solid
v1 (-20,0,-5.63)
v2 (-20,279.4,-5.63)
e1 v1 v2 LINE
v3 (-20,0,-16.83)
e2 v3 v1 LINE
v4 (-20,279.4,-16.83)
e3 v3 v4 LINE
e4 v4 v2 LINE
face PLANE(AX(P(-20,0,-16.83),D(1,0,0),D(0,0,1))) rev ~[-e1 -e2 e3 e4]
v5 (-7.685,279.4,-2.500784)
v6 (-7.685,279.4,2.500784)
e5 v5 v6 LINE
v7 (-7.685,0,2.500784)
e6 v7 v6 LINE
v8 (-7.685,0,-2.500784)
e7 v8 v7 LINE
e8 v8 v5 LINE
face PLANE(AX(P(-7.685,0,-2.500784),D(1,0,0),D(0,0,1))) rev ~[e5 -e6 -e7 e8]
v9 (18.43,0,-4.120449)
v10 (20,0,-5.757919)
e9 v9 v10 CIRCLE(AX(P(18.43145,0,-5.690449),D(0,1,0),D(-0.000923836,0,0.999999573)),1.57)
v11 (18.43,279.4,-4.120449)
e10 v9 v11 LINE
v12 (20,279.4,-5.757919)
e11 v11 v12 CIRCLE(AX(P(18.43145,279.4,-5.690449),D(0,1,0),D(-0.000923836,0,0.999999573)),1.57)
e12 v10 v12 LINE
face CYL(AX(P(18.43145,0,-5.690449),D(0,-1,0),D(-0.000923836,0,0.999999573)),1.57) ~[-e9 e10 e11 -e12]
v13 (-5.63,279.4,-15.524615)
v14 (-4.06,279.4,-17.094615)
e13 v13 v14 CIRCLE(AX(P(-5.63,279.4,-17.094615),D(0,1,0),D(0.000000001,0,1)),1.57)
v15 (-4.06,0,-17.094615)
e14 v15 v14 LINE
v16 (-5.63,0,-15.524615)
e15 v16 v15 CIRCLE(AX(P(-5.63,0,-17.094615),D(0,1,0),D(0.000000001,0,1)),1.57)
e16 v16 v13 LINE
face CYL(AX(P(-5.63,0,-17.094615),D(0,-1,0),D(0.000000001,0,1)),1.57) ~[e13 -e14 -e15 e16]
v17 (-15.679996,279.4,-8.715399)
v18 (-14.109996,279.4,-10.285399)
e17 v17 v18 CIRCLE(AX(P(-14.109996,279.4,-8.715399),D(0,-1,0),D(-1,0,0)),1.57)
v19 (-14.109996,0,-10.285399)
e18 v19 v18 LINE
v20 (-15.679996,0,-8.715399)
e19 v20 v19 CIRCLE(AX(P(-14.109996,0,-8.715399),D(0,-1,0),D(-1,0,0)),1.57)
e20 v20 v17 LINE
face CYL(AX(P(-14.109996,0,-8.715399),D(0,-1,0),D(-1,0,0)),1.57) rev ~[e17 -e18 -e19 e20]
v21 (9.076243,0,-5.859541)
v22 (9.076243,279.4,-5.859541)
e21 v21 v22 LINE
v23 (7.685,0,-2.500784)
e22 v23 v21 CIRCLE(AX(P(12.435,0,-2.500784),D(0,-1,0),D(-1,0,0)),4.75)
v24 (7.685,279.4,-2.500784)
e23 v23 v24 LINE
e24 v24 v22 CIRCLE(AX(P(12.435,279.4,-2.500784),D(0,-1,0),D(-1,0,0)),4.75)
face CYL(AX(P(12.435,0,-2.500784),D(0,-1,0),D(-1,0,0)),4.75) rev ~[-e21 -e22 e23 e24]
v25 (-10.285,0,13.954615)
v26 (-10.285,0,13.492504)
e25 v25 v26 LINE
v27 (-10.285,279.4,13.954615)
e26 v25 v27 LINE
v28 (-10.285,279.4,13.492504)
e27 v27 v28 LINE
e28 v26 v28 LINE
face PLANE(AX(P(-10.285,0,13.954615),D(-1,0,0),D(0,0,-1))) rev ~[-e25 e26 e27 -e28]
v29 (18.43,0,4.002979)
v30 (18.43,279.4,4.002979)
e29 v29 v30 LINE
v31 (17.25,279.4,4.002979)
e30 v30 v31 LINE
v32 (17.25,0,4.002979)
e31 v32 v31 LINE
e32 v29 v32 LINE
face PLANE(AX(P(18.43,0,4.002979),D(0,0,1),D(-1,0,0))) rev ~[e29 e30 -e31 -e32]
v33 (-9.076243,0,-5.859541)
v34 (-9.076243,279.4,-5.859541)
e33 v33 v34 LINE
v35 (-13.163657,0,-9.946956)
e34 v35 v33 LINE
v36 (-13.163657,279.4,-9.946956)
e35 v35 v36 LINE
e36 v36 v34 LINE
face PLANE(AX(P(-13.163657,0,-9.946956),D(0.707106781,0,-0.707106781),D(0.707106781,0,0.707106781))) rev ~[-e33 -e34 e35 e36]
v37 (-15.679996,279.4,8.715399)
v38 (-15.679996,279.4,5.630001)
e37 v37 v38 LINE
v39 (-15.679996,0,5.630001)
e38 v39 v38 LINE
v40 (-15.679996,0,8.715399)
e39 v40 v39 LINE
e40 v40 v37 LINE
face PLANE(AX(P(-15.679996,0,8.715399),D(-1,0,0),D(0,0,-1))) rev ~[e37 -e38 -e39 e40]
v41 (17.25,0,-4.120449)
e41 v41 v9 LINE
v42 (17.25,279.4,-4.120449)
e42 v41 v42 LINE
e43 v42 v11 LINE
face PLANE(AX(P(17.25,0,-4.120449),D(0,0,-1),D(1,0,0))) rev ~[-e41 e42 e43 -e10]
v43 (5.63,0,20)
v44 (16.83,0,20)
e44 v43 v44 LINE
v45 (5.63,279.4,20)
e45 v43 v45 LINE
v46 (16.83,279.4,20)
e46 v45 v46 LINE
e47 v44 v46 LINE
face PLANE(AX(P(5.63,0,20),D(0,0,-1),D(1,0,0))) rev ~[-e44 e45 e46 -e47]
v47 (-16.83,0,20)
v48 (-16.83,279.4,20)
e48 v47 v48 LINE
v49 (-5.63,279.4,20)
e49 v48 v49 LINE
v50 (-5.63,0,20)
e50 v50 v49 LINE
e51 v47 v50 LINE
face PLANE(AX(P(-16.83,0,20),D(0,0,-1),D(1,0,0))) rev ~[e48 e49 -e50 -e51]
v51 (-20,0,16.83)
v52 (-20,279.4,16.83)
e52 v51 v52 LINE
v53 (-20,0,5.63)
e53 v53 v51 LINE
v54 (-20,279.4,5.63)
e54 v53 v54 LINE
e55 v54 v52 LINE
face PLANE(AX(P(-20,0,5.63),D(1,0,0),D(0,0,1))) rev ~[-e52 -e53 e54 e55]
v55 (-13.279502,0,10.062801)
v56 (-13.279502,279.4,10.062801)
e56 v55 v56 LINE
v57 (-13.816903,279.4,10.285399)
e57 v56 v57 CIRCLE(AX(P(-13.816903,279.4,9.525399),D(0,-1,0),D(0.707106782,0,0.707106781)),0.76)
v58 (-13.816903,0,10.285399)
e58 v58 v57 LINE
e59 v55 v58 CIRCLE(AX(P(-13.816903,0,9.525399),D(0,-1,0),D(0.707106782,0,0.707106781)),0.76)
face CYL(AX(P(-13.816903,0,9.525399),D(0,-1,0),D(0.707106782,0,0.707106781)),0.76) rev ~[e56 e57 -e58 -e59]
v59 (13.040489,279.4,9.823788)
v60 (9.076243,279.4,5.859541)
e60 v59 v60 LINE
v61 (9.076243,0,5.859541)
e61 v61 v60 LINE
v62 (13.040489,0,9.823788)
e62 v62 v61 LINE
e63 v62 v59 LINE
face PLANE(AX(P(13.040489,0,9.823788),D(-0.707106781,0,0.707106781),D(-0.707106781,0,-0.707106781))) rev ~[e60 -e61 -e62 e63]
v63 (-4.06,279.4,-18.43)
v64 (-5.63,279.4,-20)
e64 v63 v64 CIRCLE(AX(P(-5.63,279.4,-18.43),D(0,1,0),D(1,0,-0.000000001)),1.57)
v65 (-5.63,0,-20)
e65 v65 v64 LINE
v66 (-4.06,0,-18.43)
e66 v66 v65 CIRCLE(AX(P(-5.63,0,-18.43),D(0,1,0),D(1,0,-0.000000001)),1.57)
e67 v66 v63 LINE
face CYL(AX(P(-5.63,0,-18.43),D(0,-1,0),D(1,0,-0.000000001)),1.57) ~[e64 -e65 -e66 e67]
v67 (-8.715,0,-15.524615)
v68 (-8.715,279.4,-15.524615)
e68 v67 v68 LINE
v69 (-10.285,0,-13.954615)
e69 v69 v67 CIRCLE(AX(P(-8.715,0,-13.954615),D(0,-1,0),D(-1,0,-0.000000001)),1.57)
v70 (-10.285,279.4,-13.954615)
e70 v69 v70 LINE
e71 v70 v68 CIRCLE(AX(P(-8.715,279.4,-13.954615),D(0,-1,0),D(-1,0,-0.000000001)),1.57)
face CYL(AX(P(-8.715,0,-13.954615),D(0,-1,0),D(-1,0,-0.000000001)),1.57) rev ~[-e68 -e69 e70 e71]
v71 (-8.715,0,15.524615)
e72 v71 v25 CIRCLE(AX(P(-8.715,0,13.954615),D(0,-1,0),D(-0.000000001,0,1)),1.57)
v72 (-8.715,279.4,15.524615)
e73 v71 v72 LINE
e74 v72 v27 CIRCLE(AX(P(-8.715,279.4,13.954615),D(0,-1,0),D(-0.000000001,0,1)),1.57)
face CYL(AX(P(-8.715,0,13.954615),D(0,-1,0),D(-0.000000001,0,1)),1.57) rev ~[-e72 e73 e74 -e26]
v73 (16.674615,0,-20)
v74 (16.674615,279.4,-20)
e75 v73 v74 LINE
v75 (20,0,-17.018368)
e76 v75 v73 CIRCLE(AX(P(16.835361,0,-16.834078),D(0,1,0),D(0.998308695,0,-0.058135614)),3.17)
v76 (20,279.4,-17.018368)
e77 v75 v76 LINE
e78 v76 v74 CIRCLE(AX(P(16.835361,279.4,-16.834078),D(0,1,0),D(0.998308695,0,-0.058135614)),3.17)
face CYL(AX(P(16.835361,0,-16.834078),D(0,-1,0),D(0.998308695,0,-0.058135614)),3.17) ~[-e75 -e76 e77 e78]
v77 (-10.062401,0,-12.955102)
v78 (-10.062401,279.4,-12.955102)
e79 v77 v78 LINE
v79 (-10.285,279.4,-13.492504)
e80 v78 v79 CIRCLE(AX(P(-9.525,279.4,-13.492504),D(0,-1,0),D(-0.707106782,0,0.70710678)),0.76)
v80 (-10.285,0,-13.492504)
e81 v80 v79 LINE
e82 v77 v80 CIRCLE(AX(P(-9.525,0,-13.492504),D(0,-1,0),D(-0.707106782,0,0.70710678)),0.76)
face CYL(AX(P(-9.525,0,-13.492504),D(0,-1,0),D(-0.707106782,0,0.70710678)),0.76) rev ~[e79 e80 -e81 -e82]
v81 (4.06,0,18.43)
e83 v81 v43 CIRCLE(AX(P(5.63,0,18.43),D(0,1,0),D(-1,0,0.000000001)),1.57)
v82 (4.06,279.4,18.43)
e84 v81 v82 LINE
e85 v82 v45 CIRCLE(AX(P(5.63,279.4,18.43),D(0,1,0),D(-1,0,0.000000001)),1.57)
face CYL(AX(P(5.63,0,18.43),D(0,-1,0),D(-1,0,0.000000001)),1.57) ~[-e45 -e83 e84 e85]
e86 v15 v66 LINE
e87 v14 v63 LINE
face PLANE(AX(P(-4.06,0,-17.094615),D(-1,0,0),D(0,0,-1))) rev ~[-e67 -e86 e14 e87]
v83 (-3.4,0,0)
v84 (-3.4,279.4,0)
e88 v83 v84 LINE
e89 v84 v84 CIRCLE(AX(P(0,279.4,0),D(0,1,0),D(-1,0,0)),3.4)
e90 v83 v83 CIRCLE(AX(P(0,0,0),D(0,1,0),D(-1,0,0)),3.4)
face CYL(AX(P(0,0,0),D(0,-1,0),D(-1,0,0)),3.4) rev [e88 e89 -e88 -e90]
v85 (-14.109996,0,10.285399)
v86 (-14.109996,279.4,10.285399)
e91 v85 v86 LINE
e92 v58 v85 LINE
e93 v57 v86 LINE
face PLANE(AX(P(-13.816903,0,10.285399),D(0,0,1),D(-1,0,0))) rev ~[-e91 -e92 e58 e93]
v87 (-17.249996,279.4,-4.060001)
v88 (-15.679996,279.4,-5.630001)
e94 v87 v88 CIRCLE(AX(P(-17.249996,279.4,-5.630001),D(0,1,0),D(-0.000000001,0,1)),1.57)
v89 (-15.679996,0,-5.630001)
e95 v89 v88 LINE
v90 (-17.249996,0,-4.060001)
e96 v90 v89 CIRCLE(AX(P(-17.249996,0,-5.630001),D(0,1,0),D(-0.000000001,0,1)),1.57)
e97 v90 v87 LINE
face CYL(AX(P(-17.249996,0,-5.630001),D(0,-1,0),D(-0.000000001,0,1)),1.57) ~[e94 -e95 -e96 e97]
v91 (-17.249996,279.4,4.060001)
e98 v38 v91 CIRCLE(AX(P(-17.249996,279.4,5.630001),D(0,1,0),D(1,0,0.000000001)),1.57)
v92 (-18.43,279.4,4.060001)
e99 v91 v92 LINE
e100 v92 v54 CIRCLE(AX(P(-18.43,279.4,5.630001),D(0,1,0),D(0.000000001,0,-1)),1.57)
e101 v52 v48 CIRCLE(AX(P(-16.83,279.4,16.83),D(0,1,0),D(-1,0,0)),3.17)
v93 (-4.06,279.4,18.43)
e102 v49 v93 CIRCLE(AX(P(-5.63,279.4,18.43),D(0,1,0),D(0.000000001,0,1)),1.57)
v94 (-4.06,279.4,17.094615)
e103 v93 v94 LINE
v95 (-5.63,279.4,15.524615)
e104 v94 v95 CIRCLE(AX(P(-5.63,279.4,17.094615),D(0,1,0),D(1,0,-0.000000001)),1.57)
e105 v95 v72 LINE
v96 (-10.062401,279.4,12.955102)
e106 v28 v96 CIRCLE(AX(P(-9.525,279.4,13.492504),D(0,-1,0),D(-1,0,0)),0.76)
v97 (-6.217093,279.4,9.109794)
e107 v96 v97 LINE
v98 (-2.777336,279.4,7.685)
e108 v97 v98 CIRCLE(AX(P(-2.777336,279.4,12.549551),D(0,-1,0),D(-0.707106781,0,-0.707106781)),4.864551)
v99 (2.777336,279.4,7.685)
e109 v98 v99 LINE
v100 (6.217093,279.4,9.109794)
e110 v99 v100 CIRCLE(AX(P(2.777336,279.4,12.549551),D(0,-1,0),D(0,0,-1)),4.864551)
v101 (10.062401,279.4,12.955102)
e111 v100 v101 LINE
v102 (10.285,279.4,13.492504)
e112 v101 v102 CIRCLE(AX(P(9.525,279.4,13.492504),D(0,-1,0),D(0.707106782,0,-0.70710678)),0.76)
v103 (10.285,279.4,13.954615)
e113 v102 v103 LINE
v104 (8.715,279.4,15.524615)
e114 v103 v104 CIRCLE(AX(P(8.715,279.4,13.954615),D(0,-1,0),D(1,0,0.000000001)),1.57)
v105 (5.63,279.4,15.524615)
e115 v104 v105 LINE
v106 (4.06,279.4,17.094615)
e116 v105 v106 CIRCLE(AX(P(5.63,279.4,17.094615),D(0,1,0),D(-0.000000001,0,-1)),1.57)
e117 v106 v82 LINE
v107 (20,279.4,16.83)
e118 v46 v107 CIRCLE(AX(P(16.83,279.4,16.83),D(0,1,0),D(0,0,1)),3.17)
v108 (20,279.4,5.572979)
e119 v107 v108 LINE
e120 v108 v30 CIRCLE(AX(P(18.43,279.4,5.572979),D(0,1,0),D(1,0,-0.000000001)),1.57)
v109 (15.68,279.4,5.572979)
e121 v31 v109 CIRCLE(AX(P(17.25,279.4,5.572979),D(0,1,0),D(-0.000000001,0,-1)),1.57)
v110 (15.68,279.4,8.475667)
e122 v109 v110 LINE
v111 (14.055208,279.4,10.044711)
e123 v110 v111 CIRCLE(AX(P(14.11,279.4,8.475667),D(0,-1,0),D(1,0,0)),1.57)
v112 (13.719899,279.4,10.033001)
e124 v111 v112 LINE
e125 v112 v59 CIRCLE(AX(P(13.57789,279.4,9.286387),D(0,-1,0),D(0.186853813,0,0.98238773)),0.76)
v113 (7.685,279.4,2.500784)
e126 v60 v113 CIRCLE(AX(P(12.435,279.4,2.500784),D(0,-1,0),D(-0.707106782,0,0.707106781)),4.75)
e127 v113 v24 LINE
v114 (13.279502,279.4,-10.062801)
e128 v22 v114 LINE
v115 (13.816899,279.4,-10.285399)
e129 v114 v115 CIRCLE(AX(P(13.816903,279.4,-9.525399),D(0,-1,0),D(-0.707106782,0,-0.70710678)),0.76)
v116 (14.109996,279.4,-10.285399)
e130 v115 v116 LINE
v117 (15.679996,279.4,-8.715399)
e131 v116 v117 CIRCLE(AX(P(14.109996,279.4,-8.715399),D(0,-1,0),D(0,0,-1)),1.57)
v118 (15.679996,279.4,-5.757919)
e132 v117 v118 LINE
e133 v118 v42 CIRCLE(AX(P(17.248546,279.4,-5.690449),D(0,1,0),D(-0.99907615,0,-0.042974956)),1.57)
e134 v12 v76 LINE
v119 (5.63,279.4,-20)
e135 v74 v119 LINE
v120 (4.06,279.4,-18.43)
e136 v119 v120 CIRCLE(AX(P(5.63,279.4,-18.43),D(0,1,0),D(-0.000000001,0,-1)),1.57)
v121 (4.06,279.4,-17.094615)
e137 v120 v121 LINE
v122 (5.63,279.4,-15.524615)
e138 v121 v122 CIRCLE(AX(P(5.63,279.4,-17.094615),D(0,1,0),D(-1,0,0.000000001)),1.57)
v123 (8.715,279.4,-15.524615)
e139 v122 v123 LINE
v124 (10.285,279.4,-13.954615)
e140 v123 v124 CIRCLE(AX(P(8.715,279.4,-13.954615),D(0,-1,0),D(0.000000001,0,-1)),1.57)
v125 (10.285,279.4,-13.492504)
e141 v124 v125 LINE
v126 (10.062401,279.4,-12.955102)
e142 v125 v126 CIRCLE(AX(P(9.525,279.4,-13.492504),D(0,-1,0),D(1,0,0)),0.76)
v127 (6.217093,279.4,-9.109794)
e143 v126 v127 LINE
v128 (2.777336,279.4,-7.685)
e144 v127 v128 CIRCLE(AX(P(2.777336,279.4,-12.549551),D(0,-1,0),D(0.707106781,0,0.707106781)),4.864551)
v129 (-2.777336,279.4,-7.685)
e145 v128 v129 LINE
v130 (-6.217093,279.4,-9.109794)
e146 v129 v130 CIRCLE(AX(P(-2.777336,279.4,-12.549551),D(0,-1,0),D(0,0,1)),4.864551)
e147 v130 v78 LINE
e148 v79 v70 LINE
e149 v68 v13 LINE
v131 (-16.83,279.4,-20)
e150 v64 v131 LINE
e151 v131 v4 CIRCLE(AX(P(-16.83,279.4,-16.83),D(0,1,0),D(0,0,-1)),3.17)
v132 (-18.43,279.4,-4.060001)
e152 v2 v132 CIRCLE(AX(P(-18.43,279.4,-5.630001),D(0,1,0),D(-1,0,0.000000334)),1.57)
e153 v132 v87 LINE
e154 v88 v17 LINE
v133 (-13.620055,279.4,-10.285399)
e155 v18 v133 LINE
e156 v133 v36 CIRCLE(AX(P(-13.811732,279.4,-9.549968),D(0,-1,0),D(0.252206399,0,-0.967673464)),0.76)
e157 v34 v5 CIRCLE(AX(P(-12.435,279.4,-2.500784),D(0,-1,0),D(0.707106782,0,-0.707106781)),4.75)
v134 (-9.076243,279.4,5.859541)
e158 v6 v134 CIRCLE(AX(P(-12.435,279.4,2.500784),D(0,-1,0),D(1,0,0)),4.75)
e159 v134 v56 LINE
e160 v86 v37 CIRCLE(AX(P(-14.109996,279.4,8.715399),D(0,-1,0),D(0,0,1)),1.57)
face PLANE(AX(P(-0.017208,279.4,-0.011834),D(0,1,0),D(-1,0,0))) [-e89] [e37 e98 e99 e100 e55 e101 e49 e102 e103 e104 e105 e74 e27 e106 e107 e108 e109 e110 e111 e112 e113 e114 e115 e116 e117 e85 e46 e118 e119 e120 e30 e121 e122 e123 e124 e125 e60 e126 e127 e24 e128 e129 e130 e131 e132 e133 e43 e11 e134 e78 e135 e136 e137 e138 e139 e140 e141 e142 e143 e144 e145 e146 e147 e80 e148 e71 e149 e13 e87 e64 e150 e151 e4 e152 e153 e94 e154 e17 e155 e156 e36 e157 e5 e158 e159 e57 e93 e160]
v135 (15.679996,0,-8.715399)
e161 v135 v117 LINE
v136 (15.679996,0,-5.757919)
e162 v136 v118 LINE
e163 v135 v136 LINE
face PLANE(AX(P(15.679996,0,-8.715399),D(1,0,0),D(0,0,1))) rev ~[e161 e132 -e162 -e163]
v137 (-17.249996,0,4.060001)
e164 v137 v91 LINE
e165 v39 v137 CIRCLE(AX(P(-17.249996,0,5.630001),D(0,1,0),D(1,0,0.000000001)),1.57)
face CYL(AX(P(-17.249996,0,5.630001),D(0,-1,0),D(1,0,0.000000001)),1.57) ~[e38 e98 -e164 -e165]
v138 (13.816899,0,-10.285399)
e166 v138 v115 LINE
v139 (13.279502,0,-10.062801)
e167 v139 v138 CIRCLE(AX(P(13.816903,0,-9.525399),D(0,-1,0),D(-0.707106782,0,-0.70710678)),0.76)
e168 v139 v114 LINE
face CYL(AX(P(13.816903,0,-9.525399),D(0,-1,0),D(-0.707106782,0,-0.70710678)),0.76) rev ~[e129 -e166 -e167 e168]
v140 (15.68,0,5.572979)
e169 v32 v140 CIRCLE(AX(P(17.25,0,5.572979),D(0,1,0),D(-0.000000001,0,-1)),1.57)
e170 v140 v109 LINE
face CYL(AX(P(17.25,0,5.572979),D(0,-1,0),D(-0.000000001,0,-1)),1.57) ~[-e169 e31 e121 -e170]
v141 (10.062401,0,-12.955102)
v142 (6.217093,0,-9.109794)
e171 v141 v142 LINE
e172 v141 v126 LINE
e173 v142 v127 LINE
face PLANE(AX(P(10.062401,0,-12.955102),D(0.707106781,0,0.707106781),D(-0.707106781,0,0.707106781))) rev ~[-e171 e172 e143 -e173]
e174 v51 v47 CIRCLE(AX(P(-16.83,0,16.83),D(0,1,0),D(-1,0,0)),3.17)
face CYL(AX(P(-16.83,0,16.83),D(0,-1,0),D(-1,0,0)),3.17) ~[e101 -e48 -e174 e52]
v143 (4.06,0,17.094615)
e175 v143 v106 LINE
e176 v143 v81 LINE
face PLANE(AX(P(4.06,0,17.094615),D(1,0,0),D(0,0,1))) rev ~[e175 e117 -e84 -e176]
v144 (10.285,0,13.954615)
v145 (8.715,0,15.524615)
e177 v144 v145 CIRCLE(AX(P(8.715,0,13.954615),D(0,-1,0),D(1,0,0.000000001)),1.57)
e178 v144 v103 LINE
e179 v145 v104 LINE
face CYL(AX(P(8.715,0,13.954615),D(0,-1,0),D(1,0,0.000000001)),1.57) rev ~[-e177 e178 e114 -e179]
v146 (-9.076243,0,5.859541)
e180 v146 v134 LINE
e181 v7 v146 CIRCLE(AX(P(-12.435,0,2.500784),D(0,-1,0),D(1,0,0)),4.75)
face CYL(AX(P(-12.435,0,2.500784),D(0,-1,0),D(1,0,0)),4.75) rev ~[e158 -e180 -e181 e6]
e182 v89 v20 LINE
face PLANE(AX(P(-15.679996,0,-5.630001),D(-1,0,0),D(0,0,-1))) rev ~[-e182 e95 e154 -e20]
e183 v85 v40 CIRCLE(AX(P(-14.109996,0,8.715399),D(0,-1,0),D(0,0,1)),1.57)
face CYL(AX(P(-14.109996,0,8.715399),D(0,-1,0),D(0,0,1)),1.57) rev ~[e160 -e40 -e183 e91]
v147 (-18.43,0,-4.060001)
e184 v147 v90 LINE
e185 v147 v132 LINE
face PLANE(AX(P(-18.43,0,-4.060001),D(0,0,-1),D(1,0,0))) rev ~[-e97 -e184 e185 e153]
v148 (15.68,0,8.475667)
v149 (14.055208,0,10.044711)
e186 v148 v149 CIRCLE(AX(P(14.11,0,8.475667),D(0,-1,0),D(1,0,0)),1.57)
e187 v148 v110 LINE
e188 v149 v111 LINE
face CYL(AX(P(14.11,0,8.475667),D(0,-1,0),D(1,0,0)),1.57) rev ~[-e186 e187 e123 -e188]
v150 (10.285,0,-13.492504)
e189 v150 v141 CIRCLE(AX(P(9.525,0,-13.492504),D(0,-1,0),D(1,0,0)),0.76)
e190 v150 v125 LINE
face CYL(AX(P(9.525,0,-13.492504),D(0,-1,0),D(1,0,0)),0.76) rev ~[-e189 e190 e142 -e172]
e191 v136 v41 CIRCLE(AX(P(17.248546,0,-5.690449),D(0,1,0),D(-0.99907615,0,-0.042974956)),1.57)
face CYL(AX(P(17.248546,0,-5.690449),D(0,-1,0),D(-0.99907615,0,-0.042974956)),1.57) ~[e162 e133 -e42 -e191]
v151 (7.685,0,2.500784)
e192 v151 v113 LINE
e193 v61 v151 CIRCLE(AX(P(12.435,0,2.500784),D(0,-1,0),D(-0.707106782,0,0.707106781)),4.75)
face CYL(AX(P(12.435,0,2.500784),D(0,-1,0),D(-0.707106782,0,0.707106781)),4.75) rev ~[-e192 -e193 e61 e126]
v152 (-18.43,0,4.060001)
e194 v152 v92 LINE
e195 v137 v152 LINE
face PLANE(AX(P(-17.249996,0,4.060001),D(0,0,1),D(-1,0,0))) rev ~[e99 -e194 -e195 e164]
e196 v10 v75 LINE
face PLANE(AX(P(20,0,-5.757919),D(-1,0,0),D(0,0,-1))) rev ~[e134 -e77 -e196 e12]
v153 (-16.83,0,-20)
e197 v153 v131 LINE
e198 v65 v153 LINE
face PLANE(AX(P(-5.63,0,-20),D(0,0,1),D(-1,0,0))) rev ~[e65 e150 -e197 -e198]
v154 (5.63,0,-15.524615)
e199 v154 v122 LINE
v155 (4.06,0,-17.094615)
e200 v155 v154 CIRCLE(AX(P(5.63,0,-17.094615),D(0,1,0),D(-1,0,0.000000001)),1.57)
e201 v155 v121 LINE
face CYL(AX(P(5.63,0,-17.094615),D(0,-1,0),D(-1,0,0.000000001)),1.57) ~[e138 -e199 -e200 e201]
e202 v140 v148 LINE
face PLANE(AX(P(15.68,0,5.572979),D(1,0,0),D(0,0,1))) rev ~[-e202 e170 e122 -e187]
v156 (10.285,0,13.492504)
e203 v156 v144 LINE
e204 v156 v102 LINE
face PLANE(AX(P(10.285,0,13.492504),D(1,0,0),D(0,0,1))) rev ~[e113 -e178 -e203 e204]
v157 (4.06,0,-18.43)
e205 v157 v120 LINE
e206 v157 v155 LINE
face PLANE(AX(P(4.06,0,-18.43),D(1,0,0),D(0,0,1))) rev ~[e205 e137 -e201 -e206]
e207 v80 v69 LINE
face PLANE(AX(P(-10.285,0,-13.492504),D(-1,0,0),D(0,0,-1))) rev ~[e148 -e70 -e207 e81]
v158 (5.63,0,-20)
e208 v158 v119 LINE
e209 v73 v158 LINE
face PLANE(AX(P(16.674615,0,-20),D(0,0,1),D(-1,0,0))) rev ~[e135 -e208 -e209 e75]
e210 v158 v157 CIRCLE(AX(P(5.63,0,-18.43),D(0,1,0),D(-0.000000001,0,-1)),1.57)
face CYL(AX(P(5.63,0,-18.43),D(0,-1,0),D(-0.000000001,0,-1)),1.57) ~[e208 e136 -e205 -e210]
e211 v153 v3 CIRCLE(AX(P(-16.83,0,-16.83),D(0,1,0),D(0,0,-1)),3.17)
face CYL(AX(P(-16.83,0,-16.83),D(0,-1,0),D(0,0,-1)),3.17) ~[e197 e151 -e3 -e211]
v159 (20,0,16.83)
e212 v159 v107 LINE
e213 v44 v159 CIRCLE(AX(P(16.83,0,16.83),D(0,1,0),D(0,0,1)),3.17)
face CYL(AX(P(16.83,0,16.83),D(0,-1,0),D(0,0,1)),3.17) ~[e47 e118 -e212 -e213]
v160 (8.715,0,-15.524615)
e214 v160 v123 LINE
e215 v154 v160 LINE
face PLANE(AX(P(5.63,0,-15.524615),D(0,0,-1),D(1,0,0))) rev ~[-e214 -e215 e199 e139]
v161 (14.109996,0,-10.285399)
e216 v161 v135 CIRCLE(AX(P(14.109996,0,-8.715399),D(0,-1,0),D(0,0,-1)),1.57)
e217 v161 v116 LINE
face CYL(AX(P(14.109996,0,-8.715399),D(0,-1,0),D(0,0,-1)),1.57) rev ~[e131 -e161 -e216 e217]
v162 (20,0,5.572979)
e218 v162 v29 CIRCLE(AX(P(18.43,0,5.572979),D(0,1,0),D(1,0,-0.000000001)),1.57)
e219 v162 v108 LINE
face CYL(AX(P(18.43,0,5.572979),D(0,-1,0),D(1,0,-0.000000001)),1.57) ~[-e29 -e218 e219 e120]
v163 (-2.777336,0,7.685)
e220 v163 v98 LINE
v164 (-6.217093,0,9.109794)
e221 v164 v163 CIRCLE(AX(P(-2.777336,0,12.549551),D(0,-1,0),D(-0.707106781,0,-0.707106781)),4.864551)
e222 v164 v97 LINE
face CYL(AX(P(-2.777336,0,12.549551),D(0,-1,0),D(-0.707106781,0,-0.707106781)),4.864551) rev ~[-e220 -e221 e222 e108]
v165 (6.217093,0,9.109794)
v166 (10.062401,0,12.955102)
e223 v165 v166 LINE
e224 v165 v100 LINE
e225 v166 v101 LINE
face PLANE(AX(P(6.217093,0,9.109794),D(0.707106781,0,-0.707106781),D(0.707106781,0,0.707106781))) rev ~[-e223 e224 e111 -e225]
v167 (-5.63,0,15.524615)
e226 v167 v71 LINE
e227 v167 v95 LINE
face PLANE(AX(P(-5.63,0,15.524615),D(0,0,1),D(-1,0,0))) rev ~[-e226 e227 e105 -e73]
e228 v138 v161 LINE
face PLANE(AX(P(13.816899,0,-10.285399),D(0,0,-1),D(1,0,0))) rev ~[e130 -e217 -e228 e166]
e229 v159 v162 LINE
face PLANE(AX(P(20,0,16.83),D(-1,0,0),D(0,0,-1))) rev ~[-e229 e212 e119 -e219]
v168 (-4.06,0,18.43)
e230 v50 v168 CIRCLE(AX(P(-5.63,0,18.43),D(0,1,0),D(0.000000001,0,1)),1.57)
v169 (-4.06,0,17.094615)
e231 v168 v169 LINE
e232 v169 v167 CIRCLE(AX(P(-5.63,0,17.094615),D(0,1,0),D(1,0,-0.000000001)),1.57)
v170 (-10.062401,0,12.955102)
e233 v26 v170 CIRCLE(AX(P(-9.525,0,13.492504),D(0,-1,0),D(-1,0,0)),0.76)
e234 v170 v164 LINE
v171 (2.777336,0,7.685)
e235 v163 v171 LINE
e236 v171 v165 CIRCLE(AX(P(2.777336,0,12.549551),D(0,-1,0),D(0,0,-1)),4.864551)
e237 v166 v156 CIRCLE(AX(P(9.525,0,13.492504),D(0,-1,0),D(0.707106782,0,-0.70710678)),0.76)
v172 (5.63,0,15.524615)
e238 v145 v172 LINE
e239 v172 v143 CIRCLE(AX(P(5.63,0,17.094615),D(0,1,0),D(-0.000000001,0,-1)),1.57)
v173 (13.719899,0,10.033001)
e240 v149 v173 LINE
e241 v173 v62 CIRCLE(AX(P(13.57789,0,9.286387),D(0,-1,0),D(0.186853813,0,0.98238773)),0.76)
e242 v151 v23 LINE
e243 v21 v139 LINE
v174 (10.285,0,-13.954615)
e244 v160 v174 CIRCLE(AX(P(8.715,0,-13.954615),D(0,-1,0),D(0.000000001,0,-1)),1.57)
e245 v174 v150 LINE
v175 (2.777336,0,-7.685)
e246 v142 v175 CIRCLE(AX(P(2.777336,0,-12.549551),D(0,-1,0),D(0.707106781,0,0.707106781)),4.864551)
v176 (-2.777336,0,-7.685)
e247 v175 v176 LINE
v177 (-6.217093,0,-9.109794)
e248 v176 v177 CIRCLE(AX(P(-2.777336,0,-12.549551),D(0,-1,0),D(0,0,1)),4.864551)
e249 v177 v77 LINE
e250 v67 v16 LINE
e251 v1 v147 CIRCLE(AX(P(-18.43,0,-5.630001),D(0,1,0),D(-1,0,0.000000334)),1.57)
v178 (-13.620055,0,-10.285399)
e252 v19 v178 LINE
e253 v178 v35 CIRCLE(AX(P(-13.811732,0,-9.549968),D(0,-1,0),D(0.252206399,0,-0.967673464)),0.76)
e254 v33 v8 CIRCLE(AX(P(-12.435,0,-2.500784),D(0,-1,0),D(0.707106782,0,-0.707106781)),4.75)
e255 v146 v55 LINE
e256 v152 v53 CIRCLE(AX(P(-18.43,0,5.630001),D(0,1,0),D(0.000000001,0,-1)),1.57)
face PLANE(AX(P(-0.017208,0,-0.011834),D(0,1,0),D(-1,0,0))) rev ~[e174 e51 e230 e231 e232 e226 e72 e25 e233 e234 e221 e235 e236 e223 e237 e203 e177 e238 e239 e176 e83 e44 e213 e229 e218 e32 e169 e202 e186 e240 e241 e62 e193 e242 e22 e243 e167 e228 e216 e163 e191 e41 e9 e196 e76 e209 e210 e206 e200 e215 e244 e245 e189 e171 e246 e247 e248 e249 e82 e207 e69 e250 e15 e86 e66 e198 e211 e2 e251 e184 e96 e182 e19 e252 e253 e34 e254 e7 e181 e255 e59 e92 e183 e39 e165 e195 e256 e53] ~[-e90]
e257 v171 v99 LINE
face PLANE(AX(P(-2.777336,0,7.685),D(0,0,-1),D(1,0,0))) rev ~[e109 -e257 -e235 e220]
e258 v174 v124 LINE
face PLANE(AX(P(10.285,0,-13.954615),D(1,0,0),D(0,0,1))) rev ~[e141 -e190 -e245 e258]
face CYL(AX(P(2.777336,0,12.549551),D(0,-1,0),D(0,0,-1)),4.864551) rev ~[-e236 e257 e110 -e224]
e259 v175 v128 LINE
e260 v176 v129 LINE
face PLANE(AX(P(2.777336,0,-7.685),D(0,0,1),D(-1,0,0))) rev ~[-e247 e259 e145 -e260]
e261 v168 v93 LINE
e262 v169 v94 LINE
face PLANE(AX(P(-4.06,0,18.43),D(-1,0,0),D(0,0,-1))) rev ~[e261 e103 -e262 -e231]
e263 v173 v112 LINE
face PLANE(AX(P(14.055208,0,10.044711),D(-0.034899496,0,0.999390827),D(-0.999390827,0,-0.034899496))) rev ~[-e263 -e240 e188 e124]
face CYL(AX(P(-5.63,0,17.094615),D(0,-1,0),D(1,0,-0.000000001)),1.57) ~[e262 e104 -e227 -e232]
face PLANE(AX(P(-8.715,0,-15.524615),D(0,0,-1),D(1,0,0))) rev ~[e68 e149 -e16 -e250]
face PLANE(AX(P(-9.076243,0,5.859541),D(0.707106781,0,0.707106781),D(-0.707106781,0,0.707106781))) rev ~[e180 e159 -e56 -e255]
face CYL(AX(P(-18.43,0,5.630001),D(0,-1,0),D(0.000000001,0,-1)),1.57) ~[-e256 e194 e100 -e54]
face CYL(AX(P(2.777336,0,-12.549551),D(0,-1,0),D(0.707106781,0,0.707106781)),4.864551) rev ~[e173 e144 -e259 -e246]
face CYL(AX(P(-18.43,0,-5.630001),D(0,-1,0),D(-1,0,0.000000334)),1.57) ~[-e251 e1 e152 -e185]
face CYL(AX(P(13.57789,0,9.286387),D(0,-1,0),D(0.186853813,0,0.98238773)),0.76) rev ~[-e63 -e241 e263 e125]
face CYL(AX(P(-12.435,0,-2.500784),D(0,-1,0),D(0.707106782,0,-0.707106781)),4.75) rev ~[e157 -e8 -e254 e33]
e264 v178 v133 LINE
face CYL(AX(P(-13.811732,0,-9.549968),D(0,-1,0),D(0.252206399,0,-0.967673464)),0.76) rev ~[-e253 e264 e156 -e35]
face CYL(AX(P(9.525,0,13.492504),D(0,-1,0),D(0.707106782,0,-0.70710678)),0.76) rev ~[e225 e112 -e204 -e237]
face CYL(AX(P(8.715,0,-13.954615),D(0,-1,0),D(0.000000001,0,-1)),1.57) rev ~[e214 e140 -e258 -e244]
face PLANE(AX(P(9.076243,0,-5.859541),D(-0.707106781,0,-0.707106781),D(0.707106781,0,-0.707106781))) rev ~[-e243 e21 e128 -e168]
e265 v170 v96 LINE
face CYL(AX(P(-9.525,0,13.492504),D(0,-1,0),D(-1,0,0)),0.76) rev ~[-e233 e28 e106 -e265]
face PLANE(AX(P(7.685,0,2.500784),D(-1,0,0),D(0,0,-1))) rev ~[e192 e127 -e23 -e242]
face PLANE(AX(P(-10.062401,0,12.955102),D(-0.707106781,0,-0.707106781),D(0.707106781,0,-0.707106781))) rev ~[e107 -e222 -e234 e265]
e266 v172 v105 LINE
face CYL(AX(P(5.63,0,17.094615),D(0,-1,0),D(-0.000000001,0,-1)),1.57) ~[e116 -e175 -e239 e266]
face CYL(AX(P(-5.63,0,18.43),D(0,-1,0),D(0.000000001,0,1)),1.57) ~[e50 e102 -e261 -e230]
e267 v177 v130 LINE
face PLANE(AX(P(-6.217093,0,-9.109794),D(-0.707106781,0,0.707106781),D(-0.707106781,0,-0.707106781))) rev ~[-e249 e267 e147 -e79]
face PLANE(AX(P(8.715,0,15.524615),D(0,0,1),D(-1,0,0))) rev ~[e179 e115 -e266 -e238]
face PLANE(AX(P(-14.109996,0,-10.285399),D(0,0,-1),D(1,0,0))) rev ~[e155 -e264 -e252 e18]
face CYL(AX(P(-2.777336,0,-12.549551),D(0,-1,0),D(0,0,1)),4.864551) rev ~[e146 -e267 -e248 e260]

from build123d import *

# Parameters (mm, degrees)
SKETCH12_R               = 3.4
F_40_SERIES_4040_1_DEPTH = 279.4


with BuildPart() as part:
    # Sketch12 → 40 series 4040(1) (new body)
    with BuildSketch(Plane(origin=(0, 0, 0), x_dir=(-1, 0, 0), z_dir=(0, 1, 0))):
        with BuildLine():
            Line((-5.63, -15.524615034), (-8.715, -15.524615034))
            ThreePointArc((-8.715, -15.524615034), (-9.825157646, -15.06477268), (-10.285, -13.954615034))
            Line((-10.285, -13.954615034), (-10.285, -13.492503602))
            ThreePointArc((-10.285, -13.492503602), (-10.227148445, -13.201664194), (-10.062401154, -12.955102448))
            Line((-10.062401154, -12.955102448), (-6.217092793, -9.109794088))
            ThreePointArc((-6.217092793, -9.109794088), (-4.63891877, -8.055291919), (-2.777335583, -7.685))
            Line((-2.777335583, -7.685), (2.777335583, -7.685))
            ThreePointArc((2.777335583, -7.685), (4.63891877, -8.055291919), (6.217092793, -9.109794088))
            Line((6.217092793, -9.109794088), (10.062401154, -12.955102448))
            ThreePointArc((10.062401154, -12.955102448), (10.227148445, -13.201664194), (10.285, -13.492503602))
            Line((10.285, -13.492503602), (10.285, -13.954615034))
            ThreePointArc((10.285, -13.954615034), (9.825157646, -15.06477268), (8.715, -15.524615034))
            Line((8.715, -15.524615034), (5.63, -15.524615034))
            ThreePointArc((5.63, -15.524615034), (4.519842354, -15.984457388), (4.06, -17.094615034))
            Line((4.06, -17.094615034), (4.06, -18.43))
            ThreePointArc((4.06, -18.43), (4.519842354, -19.540157646), (5.63, -20))
            Line((5.63, -20), (16.83, -20))
            ThreePointArc((16.83, -20), (19.071528496, -19.071528496), (20, -16.83))
            Line((20, -16.83), (20, -5.63))
            ThreePointArc((20, -5.63), (19.540157461, -4.519842693), (18.43, -4.060000526))
            Line((18.43, -4.060000526), (17.24999625, -4.060000526))
            ThreePointArc((17.24999625, -4.060000526), (16.139838603, -4.519842879), (15.67999625, -5.630000526))
            Line((15.67999625, -5.630000526), (15.67999625, -8.715399492))
            ThreePointArc((15.67999625, -8.715399492), (15.220153896, -9.825557139), (14.10999625, -10.285399492))
            Line((14.10999625, -10.285399492), (13.6200547, -10.285399492))
            ThreePointArc((13.6200547, -10.285399492), (13.35903797, -10.160433474), (13.163657296, -9.946956002))
            Line((13.163657296, -9.946956002), (9.076242789, -5.859541495))
            ThreePointArc((9.076242789, -5.859541495), (8.046572221, -4.318530588), (7.685, -2.500784284))
            Line((7.685, -2.500784284), (7.685, 2.500784284))
            ThreePointArc((7.685, 2.500784284), (8.046572221, 4.318530588), (9.076242789, 5.859541495))
            Line((9.076242789, 5.859541495), (13.279501941, 10.062800646))
            ThreePointArc((13.279501941, 10.062800646), (13.526063686, 10.227547937), (13.816903094, 10.285399492))
            Line((13.816903094, 10.285399492), (14.10999625, 10.285399492))
            ThreePointArc((14.10999625, 10.285399492), (15.220153896, 9.825557139), (15.67999625, 8.715399492))
            Line((15.67999625, 8.715399492), (15.67999625, 5.630000526))
            ThreePointArc((15.67999625, 5.630000526), (16.139838603, 4.519842879), (17.24999625, 4.060000526))
            Line((17.24999625, 4.060000526), (18.43, 4.060000526))
            ThreePointArc((18.43, 4.060000526), (19.540157461, 4.519842693), (20, 5.63))
            Line((20, 5.63), (20, 16.83))
            ThreePointArc((20, 16.83), (19.071528496, 19.071528496), (16.83, 20))
            Line((16.83, 20), (5.63, 20))
            ThreePointArc((5.63, 20), (4.519842354, 19.540157646), (4.06, 18.43))
            Line((4.06, 18.43), (4.06, 17.094615034))
            ThreePointArc((4.06, 17.094615034), (4.519842354, 15.984457388), (5.63, 15.524615034))
            Line((5.63, 15.524615034), (8.715, 15.524615034))
            ThreePointArc((8.715, 15.524615034), (9.825157646, 15.06477268), (10.285, 13.954615034))
            Line((10.285, 13.954615034), (10.285, 13.492503602))
            ThreePointArc((10.285, 13.492503602), (10.227148445, 13.201664194), (10.062401154, 12.955102448))
            Line((10.062401154, 12.955102448), (6.217092793, 9.109794088))
            ThreePointArc((6.217092793, 9.109794088), (4.63891877, 8.055291919), (2.777335583, 7.685))
            Line((2.777335583, 7.685), (-2.777335583, 7.685))
            ThreePointArc((-2.777335583, 7.685), (-4.63891877, 8.055291919), (-6.217092793, 9.109794088))
            Line((-6.217092793, 9.109794088), (-10.062401154, 12.955102448))
            ThreePointArc((-10.062401154, 12.955102448), (-10.227148445, 13.201664194), (-10.285, 13.492503602))
            Line((-10.285, 13.492503602), (-10.285, 13.954615034))
            ThreePointArc((-10.285, 13.954615034), (-9.825157646, 15.06477268), (-8.715, 15.524615034))
            Line((-8.715, 15.524615034), (-5.63, 15.524615034))
            ThreePointArc((-5.63, 15.524615034), (-4.519842354, 15.984457388), (-4.06, 17.094615034))
            Line((-4.06, 17.094615034), (-4.06, 18.43))
            ThreePointArc((-4.06, 18.43), (-4.519842354, 19.540157646), (-5.63, 20))
            Line((-5.63, 20), (-16.83, 20))
            ThreePointArc((-16.83, 20), (-19.071528496, 19.071528496), (-20, 16.83))
            Line((-20, 16.83), (-20, 5.572979049))
            ThreePointArc((-20, 5.572979049), (-19.540157646, 4.462821403), (-18.43, 4.002979049))
            Line((-18.43, 4.002979049), (-17.25, 4.002979049))
            ThreePointArc((-17.25, 4.002979049), (-16.139842354, 4.462821403), (-15.68, 5.572979049))
            Line((-15.68, 5.572979049), (-15.68, 8.475666998))
            ThreePointArc((-15.68, 8.475666998), (-15.200613642, 9.605030484), (-14.05520779, 10.044710596))
            Line((-14.05520779, 10.044710596), (-13.71989919, 10.033001362))
            ThreePointArc((-13.71989919, 10.033001362), (-13.354224618, 10.012729352), (-13.040489136, 9.823787841))
            Line((-13.040489136, 9.823787841), (-9.076242789, 5.859541495))
            ThreePointArc((-9.076242789, 5.859541495), (-8.046572221, 4.318530588), (-7.685, 2.500784284))
            Line((-7.685, 2.500784284), (-7.685, -2.500784284))
            ThreePointArc((-7.685, -2.500784284), (-8.046572221, -4.318530588), (-9.076242789, -5.859541495))
            Line((-9.076242789, -5.859541495), (-13.279501941, -10.062800646))
            ThreePointArc((-13.279501941, -10.062800646), (-13.526061711, -10.227547119), (-13.816898819, -10.285399492))
            Line((-13.816898819, -10.285399492), (-14.10999625, -10.285399492))
            ThreePointArc((-14.10999625, -10.285399492), (-15.220153896, -9.825557139), (-15.67999625, -8.715399492))
            Line((-15.67999625, -8.715399492), (-15.67999625, -5.757919334))
            ThreePointArc((-15.67999625, -5.757919334), (-16.115287682, -4.60388249), (-17.25, -4.120449326))
            Line((-17.25, -4.120449326), (-18.43, -4.120449326))
            ThreePointArc((-18.43, -4.120449326), (-19.564709668, -4.603883664), (-20, -5.757918808))
            Line((-20, -5.757918808), (-20, -17.018368134))
            ThreePointArc((-20, -17.018368134), (-18.951578385, -19.194274381), (-16.674615034, -20))
            Line((-16.674615034, -20), (-5.63, -20))
            ThreePointArc((-5.63, -20), (-4.519842354, -19.540157646), (-4.06, -18.43))
            Line((-4.06, -18.43), (-4.06, -17.094615034))
            ThreePointArc((-4.06, -17.094615034), (-4.519842354, -15.984457388), (-5.63, -15.524615034))
        make_face()
        Circle(SKETCH12_R, mode=Mode.SUBTRACT)
    extrude(amount=F_40_SERIES_4040_1_DEPTH)


solid = part.part
